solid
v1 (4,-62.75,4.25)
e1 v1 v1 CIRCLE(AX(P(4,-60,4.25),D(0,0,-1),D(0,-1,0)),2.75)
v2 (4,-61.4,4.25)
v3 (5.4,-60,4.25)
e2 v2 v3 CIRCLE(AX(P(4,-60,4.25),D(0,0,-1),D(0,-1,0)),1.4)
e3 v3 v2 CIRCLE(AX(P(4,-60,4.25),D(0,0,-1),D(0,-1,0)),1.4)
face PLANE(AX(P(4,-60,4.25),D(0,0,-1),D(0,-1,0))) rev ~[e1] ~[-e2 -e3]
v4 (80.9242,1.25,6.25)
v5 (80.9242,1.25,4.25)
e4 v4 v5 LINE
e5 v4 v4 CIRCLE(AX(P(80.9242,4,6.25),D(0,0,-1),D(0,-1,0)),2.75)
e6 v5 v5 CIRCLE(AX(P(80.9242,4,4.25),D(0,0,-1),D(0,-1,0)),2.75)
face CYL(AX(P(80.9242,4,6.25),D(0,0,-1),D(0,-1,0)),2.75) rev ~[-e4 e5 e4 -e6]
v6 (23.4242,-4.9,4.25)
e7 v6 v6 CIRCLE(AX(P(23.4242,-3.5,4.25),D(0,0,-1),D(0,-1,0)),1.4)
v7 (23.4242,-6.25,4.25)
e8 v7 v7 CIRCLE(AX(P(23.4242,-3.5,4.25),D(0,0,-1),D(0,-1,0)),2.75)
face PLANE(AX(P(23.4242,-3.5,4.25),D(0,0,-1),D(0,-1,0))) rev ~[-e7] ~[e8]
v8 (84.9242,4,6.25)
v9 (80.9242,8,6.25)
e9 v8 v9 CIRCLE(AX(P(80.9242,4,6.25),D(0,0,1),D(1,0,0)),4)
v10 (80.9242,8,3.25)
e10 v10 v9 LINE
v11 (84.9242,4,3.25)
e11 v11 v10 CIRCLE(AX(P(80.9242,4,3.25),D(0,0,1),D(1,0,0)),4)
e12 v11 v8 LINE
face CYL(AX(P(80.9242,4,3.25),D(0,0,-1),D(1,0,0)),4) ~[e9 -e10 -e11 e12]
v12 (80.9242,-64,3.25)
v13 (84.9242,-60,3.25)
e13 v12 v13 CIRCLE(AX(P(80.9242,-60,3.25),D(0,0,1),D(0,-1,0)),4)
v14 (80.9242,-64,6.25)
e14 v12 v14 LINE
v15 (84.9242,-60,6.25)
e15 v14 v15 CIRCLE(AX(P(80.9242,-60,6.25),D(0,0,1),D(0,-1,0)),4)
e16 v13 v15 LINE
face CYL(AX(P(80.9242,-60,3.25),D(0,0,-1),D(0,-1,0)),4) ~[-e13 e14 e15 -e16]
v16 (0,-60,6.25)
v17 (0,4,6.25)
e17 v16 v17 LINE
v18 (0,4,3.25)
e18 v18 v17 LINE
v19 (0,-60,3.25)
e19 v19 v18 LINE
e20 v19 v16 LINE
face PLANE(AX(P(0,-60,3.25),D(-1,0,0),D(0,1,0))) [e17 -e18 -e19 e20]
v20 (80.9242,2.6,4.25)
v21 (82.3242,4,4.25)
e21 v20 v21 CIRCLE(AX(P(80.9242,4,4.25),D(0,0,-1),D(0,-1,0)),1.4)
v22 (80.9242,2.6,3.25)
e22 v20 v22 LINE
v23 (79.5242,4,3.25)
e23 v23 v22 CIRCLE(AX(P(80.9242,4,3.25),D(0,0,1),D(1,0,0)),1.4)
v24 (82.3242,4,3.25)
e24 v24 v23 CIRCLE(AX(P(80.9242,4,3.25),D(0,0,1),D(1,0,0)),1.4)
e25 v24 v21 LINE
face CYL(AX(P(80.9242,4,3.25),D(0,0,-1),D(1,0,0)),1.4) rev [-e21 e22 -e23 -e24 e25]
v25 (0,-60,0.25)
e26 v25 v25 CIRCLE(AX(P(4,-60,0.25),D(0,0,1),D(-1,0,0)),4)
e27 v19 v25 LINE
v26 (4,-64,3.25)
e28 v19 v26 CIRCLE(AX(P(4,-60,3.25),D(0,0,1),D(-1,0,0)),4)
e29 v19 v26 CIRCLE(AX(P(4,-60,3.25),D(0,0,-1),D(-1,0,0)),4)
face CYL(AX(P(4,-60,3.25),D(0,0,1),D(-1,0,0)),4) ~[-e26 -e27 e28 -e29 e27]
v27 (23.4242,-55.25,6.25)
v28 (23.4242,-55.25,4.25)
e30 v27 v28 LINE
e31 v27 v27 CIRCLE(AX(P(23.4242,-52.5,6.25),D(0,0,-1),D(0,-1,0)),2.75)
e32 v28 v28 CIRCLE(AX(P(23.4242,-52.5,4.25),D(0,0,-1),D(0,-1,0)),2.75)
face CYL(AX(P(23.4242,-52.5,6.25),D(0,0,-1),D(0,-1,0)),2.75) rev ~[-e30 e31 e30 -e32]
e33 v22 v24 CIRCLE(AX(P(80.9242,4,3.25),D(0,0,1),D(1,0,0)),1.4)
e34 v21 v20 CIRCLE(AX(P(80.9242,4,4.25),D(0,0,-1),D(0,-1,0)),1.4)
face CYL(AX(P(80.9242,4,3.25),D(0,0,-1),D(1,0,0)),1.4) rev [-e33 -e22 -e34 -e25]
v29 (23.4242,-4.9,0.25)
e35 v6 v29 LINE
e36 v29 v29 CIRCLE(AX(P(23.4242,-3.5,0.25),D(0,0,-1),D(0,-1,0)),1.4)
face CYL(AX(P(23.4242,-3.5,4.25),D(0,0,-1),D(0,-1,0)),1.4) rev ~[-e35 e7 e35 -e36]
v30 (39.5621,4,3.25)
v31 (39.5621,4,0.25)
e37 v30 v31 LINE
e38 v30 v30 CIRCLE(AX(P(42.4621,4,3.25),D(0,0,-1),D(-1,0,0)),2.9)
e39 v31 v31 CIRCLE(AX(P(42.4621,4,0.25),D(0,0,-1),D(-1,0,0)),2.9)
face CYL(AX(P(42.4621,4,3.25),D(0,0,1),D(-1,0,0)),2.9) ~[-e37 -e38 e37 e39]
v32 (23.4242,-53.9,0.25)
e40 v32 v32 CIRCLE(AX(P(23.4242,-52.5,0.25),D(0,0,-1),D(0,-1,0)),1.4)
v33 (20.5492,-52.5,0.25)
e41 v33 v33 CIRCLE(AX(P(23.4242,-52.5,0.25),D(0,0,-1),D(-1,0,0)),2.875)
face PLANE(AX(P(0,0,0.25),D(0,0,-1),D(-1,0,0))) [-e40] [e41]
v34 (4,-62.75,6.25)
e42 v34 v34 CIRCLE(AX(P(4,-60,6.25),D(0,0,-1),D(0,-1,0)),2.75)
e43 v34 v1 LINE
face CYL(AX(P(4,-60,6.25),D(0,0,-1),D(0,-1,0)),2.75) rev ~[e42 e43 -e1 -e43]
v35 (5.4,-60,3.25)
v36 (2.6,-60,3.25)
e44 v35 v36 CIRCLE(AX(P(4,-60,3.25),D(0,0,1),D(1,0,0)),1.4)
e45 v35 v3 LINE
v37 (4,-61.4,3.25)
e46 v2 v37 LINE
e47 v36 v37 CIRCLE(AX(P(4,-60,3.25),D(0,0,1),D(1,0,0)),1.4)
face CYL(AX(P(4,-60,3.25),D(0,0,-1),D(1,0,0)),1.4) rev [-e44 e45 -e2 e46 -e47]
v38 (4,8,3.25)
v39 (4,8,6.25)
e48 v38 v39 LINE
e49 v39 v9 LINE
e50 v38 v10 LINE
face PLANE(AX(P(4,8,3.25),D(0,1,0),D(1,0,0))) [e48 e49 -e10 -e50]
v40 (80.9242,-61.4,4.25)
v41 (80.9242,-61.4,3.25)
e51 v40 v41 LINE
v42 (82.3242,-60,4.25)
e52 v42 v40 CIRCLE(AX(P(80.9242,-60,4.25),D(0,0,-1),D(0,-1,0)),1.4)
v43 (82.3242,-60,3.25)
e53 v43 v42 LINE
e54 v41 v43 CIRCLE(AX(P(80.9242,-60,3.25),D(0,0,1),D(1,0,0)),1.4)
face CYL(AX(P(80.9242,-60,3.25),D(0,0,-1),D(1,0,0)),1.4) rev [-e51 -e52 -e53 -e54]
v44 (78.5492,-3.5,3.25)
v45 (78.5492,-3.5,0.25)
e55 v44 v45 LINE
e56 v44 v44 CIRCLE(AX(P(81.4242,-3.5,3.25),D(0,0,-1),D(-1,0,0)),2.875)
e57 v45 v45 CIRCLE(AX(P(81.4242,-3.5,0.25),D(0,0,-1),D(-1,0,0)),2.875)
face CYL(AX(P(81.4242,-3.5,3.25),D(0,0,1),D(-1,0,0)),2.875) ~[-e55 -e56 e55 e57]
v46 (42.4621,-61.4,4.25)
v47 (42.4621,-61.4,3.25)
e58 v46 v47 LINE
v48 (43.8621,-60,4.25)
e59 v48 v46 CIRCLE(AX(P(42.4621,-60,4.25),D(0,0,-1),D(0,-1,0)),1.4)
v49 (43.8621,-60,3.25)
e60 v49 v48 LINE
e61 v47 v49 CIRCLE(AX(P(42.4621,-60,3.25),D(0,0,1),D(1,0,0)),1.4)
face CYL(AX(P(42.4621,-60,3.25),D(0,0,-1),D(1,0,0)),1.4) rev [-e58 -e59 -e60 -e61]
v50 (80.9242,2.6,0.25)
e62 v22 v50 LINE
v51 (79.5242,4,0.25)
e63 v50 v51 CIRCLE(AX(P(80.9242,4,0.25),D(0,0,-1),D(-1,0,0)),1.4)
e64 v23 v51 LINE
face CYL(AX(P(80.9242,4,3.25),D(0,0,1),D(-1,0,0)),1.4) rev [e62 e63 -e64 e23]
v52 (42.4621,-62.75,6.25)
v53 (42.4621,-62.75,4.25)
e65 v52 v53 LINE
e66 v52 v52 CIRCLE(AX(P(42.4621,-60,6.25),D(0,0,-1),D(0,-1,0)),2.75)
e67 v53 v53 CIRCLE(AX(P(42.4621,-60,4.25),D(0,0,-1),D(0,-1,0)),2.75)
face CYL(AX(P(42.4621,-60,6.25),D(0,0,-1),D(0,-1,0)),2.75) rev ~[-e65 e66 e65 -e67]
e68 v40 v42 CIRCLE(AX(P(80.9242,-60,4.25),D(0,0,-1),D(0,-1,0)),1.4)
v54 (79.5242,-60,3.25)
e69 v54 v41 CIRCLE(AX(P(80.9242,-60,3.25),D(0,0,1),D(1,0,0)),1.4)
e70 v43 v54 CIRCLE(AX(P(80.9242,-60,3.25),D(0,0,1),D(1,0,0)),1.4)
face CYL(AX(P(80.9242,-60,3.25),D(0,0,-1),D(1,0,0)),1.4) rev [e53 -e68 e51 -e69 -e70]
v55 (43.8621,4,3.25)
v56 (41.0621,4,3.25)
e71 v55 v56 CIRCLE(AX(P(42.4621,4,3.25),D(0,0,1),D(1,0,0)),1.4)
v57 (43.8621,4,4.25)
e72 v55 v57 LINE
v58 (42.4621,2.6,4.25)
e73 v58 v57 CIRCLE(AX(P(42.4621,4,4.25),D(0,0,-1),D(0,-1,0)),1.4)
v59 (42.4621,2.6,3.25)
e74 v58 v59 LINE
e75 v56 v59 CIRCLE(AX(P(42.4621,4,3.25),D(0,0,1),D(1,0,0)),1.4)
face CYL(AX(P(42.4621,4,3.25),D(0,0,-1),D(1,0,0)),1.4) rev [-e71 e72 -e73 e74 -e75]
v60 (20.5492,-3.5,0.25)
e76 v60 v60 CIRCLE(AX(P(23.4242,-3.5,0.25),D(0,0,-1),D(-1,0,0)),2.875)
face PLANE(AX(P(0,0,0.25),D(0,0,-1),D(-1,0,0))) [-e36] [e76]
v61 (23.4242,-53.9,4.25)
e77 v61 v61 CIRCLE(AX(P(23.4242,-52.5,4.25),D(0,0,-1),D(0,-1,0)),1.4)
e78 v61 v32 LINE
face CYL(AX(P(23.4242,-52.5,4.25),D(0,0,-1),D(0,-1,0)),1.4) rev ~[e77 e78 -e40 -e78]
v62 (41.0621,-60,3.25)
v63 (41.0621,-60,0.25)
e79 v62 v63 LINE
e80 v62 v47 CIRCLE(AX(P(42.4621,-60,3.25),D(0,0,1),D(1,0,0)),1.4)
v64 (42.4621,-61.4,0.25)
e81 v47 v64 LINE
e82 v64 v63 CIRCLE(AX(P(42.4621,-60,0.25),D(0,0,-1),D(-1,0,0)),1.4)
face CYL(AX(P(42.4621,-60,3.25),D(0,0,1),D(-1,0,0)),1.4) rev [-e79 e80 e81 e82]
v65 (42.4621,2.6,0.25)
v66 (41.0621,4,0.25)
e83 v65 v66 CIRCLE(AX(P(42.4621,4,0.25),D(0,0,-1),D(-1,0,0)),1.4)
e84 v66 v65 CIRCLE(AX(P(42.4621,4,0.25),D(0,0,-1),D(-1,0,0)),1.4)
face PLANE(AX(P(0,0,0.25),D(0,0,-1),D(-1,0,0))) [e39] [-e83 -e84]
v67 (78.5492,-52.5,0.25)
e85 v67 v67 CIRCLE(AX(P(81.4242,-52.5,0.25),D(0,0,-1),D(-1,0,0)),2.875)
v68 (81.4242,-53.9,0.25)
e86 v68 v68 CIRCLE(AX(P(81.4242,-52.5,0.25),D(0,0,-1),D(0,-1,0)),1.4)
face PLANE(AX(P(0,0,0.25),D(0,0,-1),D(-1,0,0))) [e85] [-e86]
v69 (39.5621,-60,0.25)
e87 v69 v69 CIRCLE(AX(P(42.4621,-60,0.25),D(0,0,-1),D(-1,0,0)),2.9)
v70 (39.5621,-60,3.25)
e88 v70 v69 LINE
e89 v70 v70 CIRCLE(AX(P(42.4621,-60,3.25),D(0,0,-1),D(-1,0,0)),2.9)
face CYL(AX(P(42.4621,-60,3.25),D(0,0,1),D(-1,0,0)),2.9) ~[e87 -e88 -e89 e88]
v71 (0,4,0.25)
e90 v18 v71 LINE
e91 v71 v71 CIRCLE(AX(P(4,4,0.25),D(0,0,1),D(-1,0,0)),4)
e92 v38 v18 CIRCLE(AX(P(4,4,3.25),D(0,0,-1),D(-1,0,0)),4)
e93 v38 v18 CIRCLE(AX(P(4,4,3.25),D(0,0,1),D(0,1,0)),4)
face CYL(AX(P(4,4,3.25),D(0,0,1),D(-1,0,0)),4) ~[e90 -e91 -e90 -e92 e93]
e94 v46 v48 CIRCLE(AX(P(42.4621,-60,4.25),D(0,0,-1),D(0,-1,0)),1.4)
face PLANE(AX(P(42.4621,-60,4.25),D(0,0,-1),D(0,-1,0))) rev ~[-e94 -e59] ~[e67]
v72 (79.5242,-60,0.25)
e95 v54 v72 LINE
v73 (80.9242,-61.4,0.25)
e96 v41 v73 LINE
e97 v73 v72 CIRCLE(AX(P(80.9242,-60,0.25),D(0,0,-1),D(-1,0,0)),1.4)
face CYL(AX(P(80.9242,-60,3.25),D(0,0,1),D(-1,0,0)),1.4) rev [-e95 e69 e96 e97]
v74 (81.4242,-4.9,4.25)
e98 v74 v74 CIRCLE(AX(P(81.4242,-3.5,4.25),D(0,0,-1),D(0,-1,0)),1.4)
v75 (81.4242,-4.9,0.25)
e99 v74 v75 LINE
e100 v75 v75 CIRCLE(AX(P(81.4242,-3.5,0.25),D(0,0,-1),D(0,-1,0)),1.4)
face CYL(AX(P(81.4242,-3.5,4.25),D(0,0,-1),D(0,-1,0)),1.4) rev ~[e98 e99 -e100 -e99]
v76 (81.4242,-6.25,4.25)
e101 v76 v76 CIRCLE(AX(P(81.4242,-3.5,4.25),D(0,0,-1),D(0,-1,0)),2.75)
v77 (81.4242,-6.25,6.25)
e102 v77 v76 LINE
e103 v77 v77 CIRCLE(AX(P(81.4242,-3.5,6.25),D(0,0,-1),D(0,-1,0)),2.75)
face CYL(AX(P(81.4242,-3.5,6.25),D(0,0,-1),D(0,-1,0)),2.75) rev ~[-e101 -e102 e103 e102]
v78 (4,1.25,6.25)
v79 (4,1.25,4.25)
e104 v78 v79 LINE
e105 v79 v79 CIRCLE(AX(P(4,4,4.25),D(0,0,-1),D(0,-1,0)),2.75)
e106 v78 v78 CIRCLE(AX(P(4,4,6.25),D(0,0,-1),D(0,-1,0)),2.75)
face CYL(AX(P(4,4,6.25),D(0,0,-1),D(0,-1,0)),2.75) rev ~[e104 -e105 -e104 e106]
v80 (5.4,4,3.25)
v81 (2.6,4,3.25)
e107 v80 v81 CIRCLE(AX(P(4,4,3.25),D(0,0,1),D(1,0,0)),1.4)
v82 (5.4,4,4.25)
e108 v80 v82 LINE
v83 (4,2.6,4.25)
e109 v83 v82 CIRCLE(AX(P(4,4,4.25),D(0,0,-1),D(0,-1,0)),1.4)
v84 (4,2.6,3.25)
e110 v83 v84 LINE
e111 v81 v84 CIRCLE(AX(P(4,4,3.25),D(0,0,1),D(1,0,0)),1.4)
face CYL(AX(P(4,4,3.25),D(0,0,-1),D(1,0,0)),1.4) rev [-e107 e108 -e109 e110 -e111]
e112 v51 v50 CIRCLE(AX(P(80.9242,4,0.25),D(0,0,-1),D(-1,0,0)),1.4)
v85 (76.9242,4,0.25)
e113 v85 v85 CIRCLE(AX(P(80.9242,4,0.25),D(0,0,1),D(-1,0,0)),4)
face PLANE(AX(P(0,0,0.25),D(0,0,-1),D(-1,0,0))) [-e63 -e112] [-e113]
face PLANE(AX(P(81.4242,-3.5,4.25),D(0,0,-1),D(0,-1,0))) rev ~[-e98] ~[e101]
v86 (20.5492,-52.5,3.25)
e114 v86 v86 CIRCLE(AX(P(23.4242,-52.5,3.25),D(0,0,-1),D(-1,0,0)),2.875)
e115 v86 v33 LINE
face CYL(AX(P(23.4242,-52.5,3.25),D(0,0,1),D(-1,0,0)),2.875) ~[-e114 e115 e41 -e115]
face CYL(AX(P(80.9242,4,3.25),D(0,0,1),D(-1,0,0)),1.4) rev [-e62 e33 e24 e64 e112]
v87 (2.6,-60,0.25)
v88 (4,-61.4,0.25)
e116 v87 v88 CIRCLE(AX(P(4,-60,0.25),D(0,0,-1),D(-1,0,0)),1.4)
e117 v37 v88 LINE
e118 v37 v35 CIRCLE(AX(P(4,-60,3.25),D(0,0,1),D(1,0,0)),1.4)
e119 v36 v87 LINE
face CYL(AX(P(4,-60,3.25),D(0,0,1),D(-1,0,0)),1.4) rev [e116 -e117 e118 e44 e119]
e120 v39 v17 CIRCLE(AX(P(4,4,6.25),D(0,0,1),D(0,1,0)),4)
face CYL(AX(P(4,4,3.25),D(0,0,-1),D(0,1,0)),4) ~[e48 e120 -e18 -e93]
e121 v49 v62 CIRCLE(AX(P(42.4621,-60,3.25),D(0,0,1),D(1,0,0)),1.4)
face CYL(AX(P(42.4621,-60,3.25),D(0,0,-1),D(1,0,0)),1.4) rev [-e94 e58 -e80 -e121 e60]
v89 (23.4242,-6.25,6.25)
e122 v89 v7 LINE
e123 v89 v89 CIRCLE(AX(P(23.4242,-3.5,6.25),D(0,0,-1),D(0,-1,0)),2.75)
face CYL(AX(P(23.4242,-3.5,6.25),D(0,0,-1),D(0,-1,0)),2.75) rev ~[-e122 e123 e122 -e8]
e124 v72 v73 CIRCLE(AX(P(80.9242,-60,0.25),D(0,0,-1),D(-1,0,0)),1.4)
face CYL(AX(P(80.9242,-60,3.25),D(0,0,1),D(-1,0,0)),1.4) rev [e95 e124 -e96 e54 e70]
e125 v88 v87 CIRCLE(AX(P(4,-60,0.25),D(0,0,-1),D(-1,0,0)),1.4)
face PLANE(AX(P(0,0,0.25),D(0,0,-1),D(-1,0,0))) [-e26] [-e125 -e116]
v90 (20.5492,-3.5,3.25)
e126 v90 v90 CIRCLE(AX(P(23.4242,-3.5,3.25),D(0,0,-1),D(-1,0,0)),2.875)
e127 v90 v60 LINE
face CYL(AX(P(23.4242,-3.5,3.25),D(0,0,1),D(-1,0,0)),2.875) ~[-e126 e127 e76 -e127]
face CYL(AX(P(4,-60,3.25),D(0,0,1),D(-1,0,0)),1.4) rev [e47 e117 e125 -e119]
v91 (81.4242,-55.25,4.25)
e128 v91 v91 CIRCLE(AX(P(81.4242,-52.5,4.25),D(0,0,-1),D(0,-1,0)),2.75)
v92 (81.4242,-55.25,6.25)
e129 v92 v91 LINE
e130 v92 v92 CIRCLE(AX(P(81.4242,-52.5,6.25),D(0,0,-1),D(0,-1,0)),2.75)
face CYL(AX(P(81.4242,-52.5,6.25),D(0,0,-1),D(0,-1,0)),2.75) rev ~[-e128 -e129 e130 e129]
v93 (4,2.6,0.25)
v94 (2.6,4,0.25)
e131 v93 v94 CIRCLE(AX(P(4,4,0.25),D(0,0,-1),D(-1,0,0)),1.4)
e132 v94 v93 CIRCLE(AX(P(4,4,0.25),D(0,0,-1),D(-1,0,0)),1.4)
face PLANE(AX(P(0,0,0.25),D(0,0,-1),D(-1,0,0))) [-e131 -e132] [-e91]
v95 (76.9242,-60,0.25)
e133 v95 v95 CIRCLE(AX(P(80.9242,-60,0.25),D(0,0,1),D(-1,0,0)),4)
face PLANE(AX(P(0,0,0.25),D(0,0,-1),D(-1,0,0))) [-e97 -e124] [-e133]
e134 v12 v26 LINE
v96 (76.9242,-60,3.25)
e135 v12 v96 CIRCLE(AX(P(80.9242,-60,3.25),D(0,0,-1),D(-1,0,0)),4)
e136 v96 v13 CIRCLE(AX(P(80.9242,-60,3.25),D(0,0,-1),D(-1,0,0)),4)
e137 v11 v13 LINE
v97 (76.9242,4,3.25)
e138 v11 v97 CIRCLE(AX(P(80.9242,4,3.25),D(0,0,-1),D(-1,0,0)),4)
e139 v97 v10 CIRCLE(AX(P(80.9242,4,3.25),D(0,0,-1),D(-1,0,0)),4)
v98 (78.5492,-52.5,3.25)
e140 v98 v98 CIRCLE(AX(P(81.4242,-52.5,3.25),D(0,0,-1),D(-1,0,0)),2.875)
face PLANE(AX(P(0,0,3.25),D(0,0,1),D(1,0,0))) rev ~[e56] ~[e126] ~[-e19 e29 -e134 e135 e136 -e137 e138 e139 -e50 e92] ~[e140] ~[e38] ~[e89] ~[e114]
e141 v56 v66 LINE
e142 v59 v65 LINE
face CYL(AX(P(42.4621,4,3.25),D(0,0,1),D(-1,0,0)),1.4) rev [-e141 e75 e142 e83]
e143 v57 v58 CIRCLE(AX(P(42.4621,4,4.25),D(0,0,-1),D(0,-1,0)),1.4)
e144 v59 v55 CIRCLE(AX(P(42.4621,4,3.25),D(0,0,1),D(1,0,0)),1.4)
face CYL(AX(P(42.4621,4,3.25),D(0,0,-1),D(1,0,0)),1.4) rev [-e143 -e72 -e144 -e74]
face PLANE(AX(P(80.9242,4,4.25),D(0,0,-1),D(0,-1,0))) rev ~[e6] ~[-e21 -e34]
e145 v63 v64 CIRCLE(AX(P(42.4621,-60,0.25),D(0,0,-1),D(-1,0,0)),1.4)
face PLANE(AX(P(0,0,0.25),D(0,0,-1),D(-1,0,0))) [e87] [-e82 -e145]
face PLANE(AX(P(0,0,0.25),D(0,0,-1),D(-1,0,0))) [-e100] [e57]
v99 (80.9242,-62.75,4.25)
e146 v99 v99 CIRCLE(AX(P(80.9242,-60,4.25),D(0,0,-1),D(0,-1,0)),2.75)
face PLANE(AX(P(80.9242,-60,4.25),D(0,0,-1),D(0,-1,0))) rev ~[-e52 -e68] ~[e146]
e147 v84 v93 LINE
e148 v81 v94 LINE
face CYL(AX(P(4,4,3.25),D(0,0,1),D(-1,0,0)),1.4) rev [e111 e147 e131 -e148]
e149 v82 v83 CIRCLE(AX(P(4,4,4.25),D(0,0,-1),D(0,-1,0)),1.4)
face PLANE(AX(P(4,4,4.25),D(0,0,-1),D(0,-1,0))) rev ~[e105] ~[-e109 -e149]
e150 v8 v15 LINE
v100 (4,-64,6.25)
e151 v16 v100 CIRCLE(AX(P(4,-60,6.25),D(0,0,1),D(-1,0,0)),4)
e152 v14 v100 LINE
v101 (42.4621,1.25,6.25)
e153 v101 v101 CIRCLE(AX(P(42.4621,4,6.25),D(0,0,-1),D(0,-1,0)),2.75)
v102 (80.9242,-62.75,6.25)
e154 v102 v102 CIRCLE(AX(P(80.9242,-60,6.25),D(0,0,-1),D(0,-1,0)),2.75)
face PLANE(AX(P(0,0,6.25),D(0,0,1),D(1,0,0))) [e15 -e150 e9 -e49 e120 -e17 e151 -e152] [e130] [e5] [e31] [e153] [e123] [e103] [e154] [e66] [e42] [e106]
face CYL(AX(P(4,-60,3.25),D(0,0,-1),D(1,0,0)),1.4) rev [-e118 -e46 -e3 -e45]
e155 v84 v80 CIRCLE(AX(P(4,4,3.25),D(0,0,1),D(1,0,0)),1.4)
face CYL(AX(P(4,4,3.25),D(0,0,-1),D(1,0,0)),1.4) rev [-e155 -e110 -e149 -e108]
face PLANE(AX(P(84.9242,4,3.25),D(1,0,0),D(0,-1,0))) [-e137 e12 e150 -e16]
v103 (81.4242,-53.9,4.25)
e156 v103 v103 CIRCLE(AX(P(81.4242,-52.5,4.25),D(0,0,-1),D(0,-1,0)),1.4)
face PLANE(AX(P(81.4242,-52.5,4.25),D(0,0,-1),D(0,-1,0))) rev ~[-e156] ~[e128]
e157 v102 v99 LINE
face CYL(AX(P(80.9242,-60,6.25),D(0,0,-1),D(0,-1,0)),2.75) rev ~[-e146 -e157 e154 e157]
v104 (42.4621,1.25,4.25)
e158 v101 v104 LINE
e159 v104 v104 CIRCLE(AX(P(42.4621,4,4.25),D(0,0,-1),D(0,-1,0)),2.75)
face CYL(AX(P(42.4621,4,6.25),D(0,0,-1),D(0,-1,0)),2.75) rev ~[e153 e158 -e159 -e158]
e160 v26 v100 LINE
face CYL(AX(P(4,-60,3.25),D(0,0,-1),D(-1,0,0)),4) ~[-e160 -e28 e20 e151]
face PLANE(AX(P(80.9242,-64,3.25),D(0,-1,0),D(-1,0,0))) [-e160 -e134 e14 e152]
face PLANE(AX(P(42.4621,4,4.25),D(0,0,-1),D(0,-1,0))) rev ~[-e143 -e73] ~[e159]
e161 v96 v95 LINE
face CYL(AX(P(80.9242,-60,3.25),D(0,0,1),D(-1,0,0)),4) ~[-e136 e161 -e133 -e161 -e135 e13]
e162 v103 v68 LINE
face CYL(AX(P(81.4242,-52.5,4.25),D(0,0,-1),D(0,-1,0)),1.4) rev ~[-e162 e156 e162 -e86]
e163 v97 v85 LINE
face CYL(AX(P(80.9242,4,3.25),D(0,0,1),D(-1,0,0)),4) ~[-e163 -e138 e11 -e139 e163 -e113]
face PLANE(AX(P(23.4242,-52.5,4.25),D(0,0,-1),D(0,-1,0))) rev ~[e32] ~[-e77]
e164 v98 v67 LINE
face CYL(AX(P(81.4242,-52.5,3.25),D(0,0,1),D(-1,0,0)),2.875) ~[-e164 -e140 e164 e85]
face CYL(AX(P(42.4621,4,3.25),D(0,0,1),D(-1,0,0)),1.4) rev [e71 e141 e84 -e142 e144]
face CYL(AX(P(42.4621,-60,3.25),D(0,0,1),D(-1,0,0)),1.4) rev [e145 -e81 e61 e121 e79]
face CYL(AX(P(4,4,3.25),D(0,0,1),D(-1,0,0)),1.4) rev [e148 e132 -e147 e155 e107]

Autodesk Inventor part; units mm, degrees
ref_plane "YZ Plane" through (0, 0, 0) normal (1, 0, 0) x (0, 1, 0)
ref_plane "XZ Plane" through (0, 0, 0) normal (0, 1, 0) x (-1, 0, 0)
ref_plane "XY Plane" through (0, 0, 0) normal (0, 0, 1) x (1, 0, 0)
ref_plane "Work Plane1" through (0, 0, 3.25) normal (0, 0, 1) x (1, 0, 0)
sketch "Sketch1" plane through (0, 0, 3.25) normal (0, 0, 1) x (1, 0, 0)
  arc A0 (3, 0) -> (0, -3) centre (3, -3) ccw construction
  arc A1 (81.9242, -56) -> (84.9242, -53) centre (81.9242, -53) ccw construction
  arc A2 (84.9242, -3) -> (81.9242, 0) centre (81.9242, -3) ccw construction
  arc A3 (0, -53) -> (3, -56) centre (3, -53) ccw construction
  line L0 (0, 0) -> (86.0371, 0) construction
  line L1 (86.0371, 0) -> (86.0371, -52.7339) construction
  line L2 (86.0371, -52.7339) -> (0, -52.7339) construction
  line L3 (0, -52.7339) -> (0, 0) construction
  line L4 (80.9242, -64) -> (4, -64)
  line L5 (0, -60) -> (0, 4)
  line L6 (4, 8) -> (80.9242, 8)
  line L7 (84.9242, 4) -> (84.9242, -60)
  circle A4 centre (23.4242, -3.5) radius 1.375 projected
  circle A5 centre (23.4242, -52.5) radius 1.375 projected
  circle A6 centre (81.4242, -52.5) radius 1.375 projected
  circle A7 centre (81.4242, -3.5) radius 1.375 projected
  arc A8 (4, 8) -> (0, 4) centre (4, 4) ccw
  arc A9 (0, -60) -> (4, -64) centre (4, -60) ccw
  arc A10 (80.9242, -64) -> (84.9242, -60) centre (80.9242, -60) ccw
  arc A11 (84.9242, 4) -> (80.9242, 8) centre (80.9242, 4) ccw
  circle A12 centre (42.4621, 4) radius 1.4
  circle A13 centre (4, 4) radius 1.4
  circle A14 centre (4, -60) radius 1.4
  circle A15 centre (42.4621, -60) radius 1.4
  circle A16 centre (80.9242, -60) radius 1.4
  circle A17 centre (80.9242, 4) radius 1.4
  point P0 (84.9242, -64)
  point P1 (0, 8)
  point P2 (0, -64)
  point P3 (84.9242, 8)
  dimension "d0" = 8
  dimension "d2" = 0
  dimension "d5" = 4
  dimension "d12" = 8
  dimension "d13" = 2.8
  dimension "d14" = 2.8
  dimension "d15" = 2.8
  dimension "d16" = 2.8
  dimension "d17" = 2.8
  dimension "d18" = 2.8
extrude "Extrusion1" add sketch "Sketch1" along normal blind 3
sketch "Sketch2" plane through (0, 0, 3.25) normal (0, 0, -1) x (-1, 0, 0)
  circle A0 centre (-23.4242, -3.5) radius 1.375 projected
  circle A1 centre (-23.4242, -52.5) radius 1.375 projected
  arc A2 (-3, -56) -> (0, -53) centre (-3, -53) ccw projected
  line L0 (0, -3) -> (0, -53) projected
  arc A3 (0, -3) -> (-3, 0) centre (-3, -3) ccw projected
  line L1 (-81.9242, 0) -> (-3, 0) projected
  arc A4 (-81.9242, 0) -> (-84.9242, -3) centre (-81.9242, -3) ccw projected
  line L2 (-84.9242, -53) -> (-84.9242, -3) projected
  arc A5 (-84.9242, -53) -> (-81.9242, -56) centre (-81.9242, -53) ccw projected
  line L3 (-3, -56) -> (-81.9242, -56) projected
  circle A6 centre (-22.213, -8.2226) radius 0.5 projected
  circle A7 centre (-24.7543, -8.2226) radius 0.5 projected
  circle A8 centre (-67.0848, -6.0884) radius 0.2 projected
  circle A9 centre (-48.353, -16.7207) radius 0.2 projected
  circle A10 centre (-47.3865, -17.6798) radius 0.2 projected
  circle A11 centre (-45.8783, -17.6652) radius 0.2 projected
  circle A12 centre (-44.8533, -17.6652) radius 0.2 projected
  circle A13 centre (-46.2005, -16.2668) radius 0.2 projected
  circle A14 centre (-45.5781, -16.2009) radius 0.2 projected
  circle A15 centre (-44.9045, -16.1936) radius 0.2 projected
  circle A16 centre (-44.2822, -16.3107) radius 0.2 projected
  circle A17 centre (-43.9225, -35.8663) radius 0.2 projected
  circle A18 centre (-43.7816, -34.9329) radius 0.2 projected
  circle A19 centre (-44.7326, -34.6159) radius 0.2 projected
  circle A20 centre (-46.2119, -33.2071) radius 0.2 projected
  circle A21 centre (-43.4822, -31.4107) radius 0.2 projected
  circle A22 centre (-38.8402, -21.8362) radius 0.2 projected
  circle A23 centre (-38.8242, -20.7804) radius 0.2 projected
  circle A24 centre (-36.9127, -18.1491) radius 0.2 projected
  circle A25 centre (-37.5765, -17.9571) radius 0.2 projected
  circle A26 centre (-37.0167, -19.0928) radius 0.2 projected
  circle A27 centre (-38.1204, -19.9646) radius 0.2 projected
  line L4 (-38.4822, -15.9107) -> (-37.8289, -15.9107) projected
  line L5 (-37.8289, -16.3532) -> (-37.8289, -15.9107) projected
  line L6 (-37.8289, -16.3532) -> (-38.4822, -16.3532) projected
  line L7 (-38.4822, -15.9107) -> (-38.4822, -16.3532) projected
  line L8 (-38.5091, -16.758) -> (-37.8127, -16.758) projected
  line L9 (-37.8127, -17.341) -> (-37.8127, -16.758) projected
  line L10 (-37.8127, -17.341) -> (-38.5091, -17.341) projected
  line L11 (-38.5091, -16.758) -> (-38.5091, -17.341) projected
  circle A28 centre (-72.081, -8.9661) radius 0.2 projected
  circle A29 centre (-79.5495, -9.7485) radius 0.2 projected
  circle A30 centre (-79.9051, -8.7527) radius 0.2 projected
  circle A31 centre (-77.6646, -9.4996) radius 0.2 projected
  circle A32 centre (-79.7806, -11.3489) radius 0.2 projected
  circle A33 centre (-79.3894, -12.807) radius 0.2 projected
  circle A34 centre (-79.1761, -13.5361) radius 0.2 projected
  circle A35 centre (-70.8491, -11.3341) radius 0.2 projected
  circle A36 centre (-70.7681, -10.4839) radius 0.2 projected
  circle A37 centre (-71.8713, -11.4758) radius 0.2 projected
  circle A38 centre (-47.3628, -8.6438) radius 0.2 projected
  circle A39 centre (-67.9301, -8.3536) radius 0.2 projected
  circle A40 centre (-68.8541, -7.4295) radius 0.2 projected
  circle A41 centre (-64.6394, -6.3589) radius 0.2 projected
  circle A42 centre (-65.124, -8.6691) radius 0.2 projected
  circle A43 centre (-67.1863, -9.0861) radius 0.2 projected
  circle A44 centre (-66.6003, -9.8073) radius 0.2 projected
  circle A45 centre (-66.7693, -10.5962) radius 0.2 projected
  circle A46 centre (-66.8031, -11.2611) radius 0.2 projected
  circle A47 centre (-65.586, -10.9681) radius 0.2 projected
  circle A48 centre (-62.3629, -10.461) radius 0.2 projected
  circle A49 centre (-62.4756, -12.7825) radius 0.2 projected
  circle A50 centre (-64.7183, -13.8643) radius 0.2 projected
  circle A51 centre (-63.873, -13.8643) radius 0.2 projected
  circle A52 centre (-61.9347, -16.2197) radius 0.2 projected
  circle A53 centre (-59.9625, -15.3068) radius 0.2 projected
  circle A54 centre (-60.7965, -14.1573) radius 0.2 projected
  circle A55 centre (-58.7116, -11.0019) radius 0.2 projected
  circle A56 centre (-56.2098, -8.2183) radius 0.2 projected
  circle A57 centre (-55.1542, -11.3073) radius 0.2 projected
  circle A58 centre (-58.4406, -13.9483) radius 0.2 projected
  circle A59 centre (-57.6689, -13.9483) radius 0.2 projected
  circle A60 centre (-56.7841, -14.2211) radius 0.2 projected
  circle A61 centre (-56.345, -11.3738) radius 0.2 projected
  circle A62 centre (-43.0801, -22.1797) radius 0.2 projected
  circle A63 centre (-45.846, -22.8336) radius 0.2 projected
  circle A64 centre (-45.6957, -23.6153) radius 0.2 projected
  circle A65 centre (-47.4169, -23.2545) radius 0.2 projected
  circle A66 centre (-47.3794, -24.8404) radius 0.2 projected
  circle A67 centre (-47.7852, -23.7957) radius 0.2 projected
  circle A68 centre (-46.0339, -25.0509) radius 0.2 projected
  circle A69 centre (-37.8814, -28.3476) radius 0.2 projected
  circle A70 centre (-38.5166, -28.276) radius 0.2 projected
  circle A71 centre (-39.2056, -28.3208) radius 0.2 projected
  circle A72 centre (-38.123, -26.8266) radius 0.2 projected
  circle A73 centre (-38.9819, -26.8266) radius 0.2 projected
  circle A74 centre (-39.134, -25.3146) radius 0.2 projected
  circle A75 centre (-45.0926, -23.6057) radius 0.2 projected
  circle A76 centre (-39.805, -25.3146) radius 0.2 projected
  circle A77 centre (-40.306, -25.8693) radius 0.2 projected
  circle A78 centre (-73.2524, -44.2624) radius 0.2 projected
  circle A79 centre (-75.8766, -48.3708) radius 0.2 projected
  circle A80 centre (-74.335, -47.9589) radius 0.2 projected
  circle A81 centre (-75.6234, -44.5695) radius 0.2 projected
  circle A82 centre (-60.44, -36.6138) radius 0.2 projected
  circle A83 centre (-61.037, -35.3004) radius 0.2 projected
  circle A84 centre (-61.2076, -34.3622) radius 0.2 projected
  circle A85 centre (-64.6361, -37.0573) radius 0.2 projected
  circle A86 centre (-65.3014, -36.0338) radius 0.2 projected
  circle A87 centre (-64.6703, -33.3899) radius 0.2 projected
  circle A88 centre (-63.715, -39.9741) radius 0.2 projected
  circle A89 centre (-65.1479, -39.0018) radius 0.2 projected
  circle A90 centre (-68.8954, -35.575) radius 0.2 projected
  circle A91 centre (-69.402, -34.9183) radius 0.2 projected
  circle A92 centre (-69.8898, -36.0628) radius 0.2 projected
  circle A93 centre (-72.1039, -38.1643) radius 0.2 projected
  circle A94 centre (-71.935, -41.8794) radius 0.2 projected
  circle A95 centre (-72.1227, -34.7119) radius 0.2 projected
  circle A96 centre (-74.0553, -35.256) radius 0.2 projected
  circle A97 centre (-75.0685, -34.9558) radius 0.2 projected
  circle A98 centre (-77.5077, -35.1622) radius 0.2 projected
  circle A99 centre (-68.9517, -32.6104) radius 0.2 projected
  circle A100 centre (-66.6813, -30.8654) radius 0.2 projected
  circle A101 centre (-66.8877, -29.6458) radius 0.2 projected
  circle A102 centre (-44.52, -23.6415) radius 0.2 projected
  circle A103 centre (-45.0568, -24.8404) radius 0.2 projected
  circle A104 centre (-44.4842, -24.8225) radius 0.2 projected
  circle A105 centre (-43.8937, -24.8136) radius 0.2 projected
  circle A106 centre (-42.3638, -26.2988) radius 0.2 projected
  circle A107 centre (-43.7148, -26.2719) radius 0.2 projected
  circle A108 centre (-44.7079, -26.2719) radius 0.2 projected
  circle A109 centre (-44.1979, -26.7193) radius 0.2 projected
  circle A110 centre (-44.7705, -26.8445) radius 0.2 projected
  circle A111 centre (-41.5854, -28.2402) radius 0.2 projected
  circle A112 centre (-42.9543, -28.2134) radius 0.2 projected
  circle A113 centre (-44.2695, -28.3118) radius 0.2 projected
  circle A114 centre (-44.9763, -28.4192) radius 0.2 projected
  circle A115 centre (-45.3968, -26.6656) radius 0.2 projected
  circle A116 centre (-46.0142, -26.7551) radius 0.2 projected
  circle A117 centre (-47.6514, -26.3882) radius 0.2 projected
  circle A118 centre (-48.8593, -27.5961) radius 0.2 projected
  circle A119 centre (-55.7434, -31.6719) radius 0.2 projected
  circle A120 centre (-57.2346, -31.7216) radius 0.2 projected
  circle A121 centre (-56.4393, -32.9394) radius 0.2 projected
  circle A122 centre (-70.5072, -27.1836) radius 0.2 projected
  circle A123 centre (-82.0135, -8.0436) radius 0.2 projected
  circle A124 centre (-77.8638, -7.5634) radius 0.2 projected
  circle A125 centre (-77.3837, -6.7061) radius 0.2 projected
  circle A126 centre (-69.7875, -6.2774) radius 0.2 projected
  circle A127 centre (-70.8849, -6.6203) radius 0.2 projected
  circle A128 centre (-70.2762, -8.4294) radius 0.2 projected
  circle A129 centre (-72.6339, -6.5603) radius 0.2 projected
  circle A130 centre (-77.2174, -15.0208) radius 0.2 projected
  circle A131 centre (-74.5254, -13.0345) radius 0.2 projected
  circle A132 centre (-74.7215, -13.6095) radius 0.2 projected
  circle A133 centre (-74.2641, -14.1061) radius 0.2 projected
  circle A134 centre (-74.826, -14.6941) radius 0.2 projected
  circle A135 centre (-71.0103, -13.8709) radius 0.2 projected
  circle A136 centre (-70.9057, -14.6027) radius 0.2 projected
  circle A137 centre (-72.8789, -14.7856) radius 0.2 projected
  circle A138 centre (-72.2909, -15.1646) radius 0.2 projected
  circle A139 centre (-76.4202, -23.4755) radius 0.2 projected
  circle A140 centre (-76.6424, -22.9136) radius 0.2 projected
  circle A141 centre (-72.1341, -21.5546) radius 0.2 projected
  circle A142 centre (-71.337, -21.5938) radius 0.2 projected
  circle A143 centre (-75.414, -19.4507) radius 0.2 projected
  circle A144 centre (-77.335, -18.9933) radius 0.2 projected
  circle A145 centre (-73.0619, -16.7196) radius 0.2 projected
  circle A146 centre (-72.1733, -16.1838) radius 0.2 projected
  circle A147 centre (-70.7751, -16.1316) radius 0.2 projected
  circle A148 centre (-70.7881, -17.0724) radius 0.2 projected
  circle A149 centre (-71.7558, -44.5458) radius 0.2 projected
  circle A150 centre (-66.535, -44.9267) radius 0.2 projected
  circle A151 centre (-65.8404, -45.218) radius 0.2 projected
  circle A152 centre (-64.1151, -43.2014) radius 0.2 projected
  circle A153 centre (-67.1848, -42.3948) radius 0.2 projected
  circle A154 centre (-68.2379, -42.4172) radius 0.2 projected
  circle A155 centre (-80.9558, -44.2504) radius 0.2 projected
  circle A156 centre (-80.0692, -44.0164) radius 0.2 projected
  circle A157 centre (-83.899, -39.4107) radius 0.2 projected
  circle A158 centre (-83.9729, -38.6226) radius 0.2 projected
  circle A159 centre (-83.8374, -36.4183) radius 0.2 projected
  circle A160 centre (-78.5914, -39.5092) radius 0.2 projected
  circle A161 centre (-78.5791, -38.1177) radius 0.2 projected
  circle A162 centre (-77.8266, -25.7432) radius 0.2 projected
  circle A163 centre (-77.9087, -28.671) radius 0.2 projected
  circle A164 centre (-77.895, -31.7083) radius 0.2 projected
  circle A165 centre (-74.0916, -28.6573) radius 0.2 projected
  circle A166 centre (-77.6854, -23.1009) radius 0.2 projected
  circle A167 centre (-75.7973, -21.5412) radius 0.2 projected
  circle A168 centre (-70.7489, -18.0525) radius 0.2 projected
  circle A169 centre (-70.8584, -18.9144) radius 0.2 projected
  circle A170 centre (-70.7763, -19.5301) radius 0.2 projected
  circle A171 centre (-66.4667, -19.749) radius 0.2 projected
  circle A172 centre (-65.6666, -20.7133) radius 0.2 projected
  circle A173 centre (-71.5914, -22.7486) radius 0.2 projected
  circle A174 centre (-71.4444, -23.5627) radius 0.2 projected
  circle A175 centre (-72.2443, -23.8456) radius 0.2 projected
  circle A176 centre (-73.4429, -24.8971) radius 0.2 projected
  circle A177 centre (-68.4368, -27.26) radius 0.2 projected
  circle A178 centre (-73.2535, -29.6345) radius 0.2 projected
  circle A179 centre (-73.1065, -28.6847) radius 0.2 projected
  circle A180 centre (-71.125, -25.1459) radius 0.2 projected
  circle A181 centre (-71.1935, -25.8197) radius 0.2 projected
  circle A182 centre (-71.2849, -27.2245) radius 0.2 projected
  circle A183 centre (-71.1706, -29.5087) radius 0.2 projected
  circle A184 centre (-71.2278, -28.6864) radius 0.2 projected
  circle A185 centre (-66.8649, -27.1446) radius 0.2 projected
  circle A186 centre (-66.6593, -28.8235) radius 0.2 projected
  circle A187 centre (-66.5108, -30.2625) radius 0.2 projected
  circle A188 centre (-42.5801, -10.5439) radius 0.2 projected
  circle A189 centre (-41.6928, -10.461) radius 0.2 projected
  circle A190 centre (-40.7805, -10.4527) radius 0.2 projected
  circle A191 centre (-44.6203, -13.488) radius 0.2 projected
  circle A192 centre (-42.0825, -14.4002) radius 0.2 projected
  circle A193 centre (-45.491, -12.3933) radius 0.2 projected
  circle A194 centre (-44.5373, -12.4265) radius 0.2 projected
  circle A195 centre (-43.426, -12.4099) radius 0.2 projected
  circle A196 centre (-0.8218, -17.9959) radius 0.2 projected
  circle A197 centre (-5.3083, -17.8009) radius 0.2 projected
  circle A198 centre (-36.7643, -43.1201) radius 0.2 projected
  circle A199 centre (-19.8744, -38.9768) radius 0.2 projected
  circle A200 centre (-20.6732, -38.164) radius 0.2 projected
  circle A201 centre (-16.553, -31.5352) radius 0.2 projected
  circle A202 centre (-16.6371, -33.7074) radius 0.2 projected
  circle A203 centre (-17.4359, -35.4873) radius 0.2 projected
  circle A204 centre (-20.477, -31.0167) radius 0.2 projected
  circle A205 centre (-21.5701, -33.8896) radius 0.2 projected
  circle A206 centre (-31.4223, -28.9566) radius 0.2 projected
  circle A207 centre (-29.5724, -29.9936) radius 0.2 projected
  circle A208 centre (-28.8156, -27.3589) radius 0.2 projected
  circle A209 centre (-27.8906, -27.401) radius 0.2 projected
  circle A210 centre (-26.3911, -27.5551) radius 0.2 projected
  circle A211 centre (-24.8635, -27.485) radius 0.2 projected
  circle A212 centre (-24.1564, -30.0892) radius 0.2 projected
  circle A213 centre (-23.9144, -29.4776) radius 0.2 projected
  circle A214 centre (-22.8697, -30.1147) radius 0.2 projected
  circle A215 centre (-23.2009, -29.5541) radius 0.2 projected
  circle A216 centre (-23.1499, -27.4901) radius 0.2 projected
  circle A217 centre (-22.3218, -27.4901) radius 0.2 projected
  circle A218 centre (-21.2899, -27.401) radius 0.2 projected
  circle A219 centre (-20.5113, -27.5708) radius 0.2 projected
  circle A220 centre (-19.7893, -23.9044) radius 0.2 projected
  circle A221 centre (-19.761, -21.3705) radius 0.2 projected
  circle A222 centre (-19.4779, -20.7335) radius 0.2 projected
  circle A223 centre (-19.7893, -18.7941) radius 0.2 projected
  circle A224 centre (-19.945, -17.8598) radius 0.2 projected
  circle A225 centre (-21.2757, -16.7698) radius 0.2 projected
  circle A226 centre (-22.3799, -15.5949) radius 0.2 projected
  circle A227 centre (-24.7014, -15.6232) radius 0.2 projected
  circle A228 centre (-29.8825, -15.7648) radius 0.2 projected
  circle A229 centre (-35.6443, -10.4124) radius 0.2 projected
  circle A230 centre (-37.175, -12.1575) radius 0.2 projected
  circle A231 centre (-39.8268, -12.6255) radius 0.2 projected
  circle A232 centre (-37.331, -14.1464) radius 0.2 projected
  circle A233 centre (-37.0872, -14.8191) radius 0.2 projected
  circle A234 centre (-38.3839, -15.2773) radius 0.2 projected
  circle A235 centre (-38.9688, -15.9012) radius 0.2 projected
  circle A236 centre (-40.636, -16.2522) radius 0.2 projected
  circle A237 centre (-41.2794, -16.301) radius 0.2 projected
  circle A238 centre (-39.7721, -19.9788) radius 0.2 projected
  circle A239 centre (-41.478, -19.3199) radius 0.2 projected
  circle A240 centre (-42.2322, -19.9715) radius 0.2 projected
  circle A241 centre (-47.1376, -20.7183) radius 0.2 projected
  circle A242 centre (-44.8753, -21.326) radius 0.2 projected
  circle A243 centre (-45.7392, -20.8208) radius 0.2 projected
  circle A244 centre (-44.824, -20.7549) radius 0.2 projected
  circle A245 centre (-46.0467, -19.8031) radius 0.2 projected
  circle A246 centre (-45.439, -19.6201) radius 0.2 projected
  circle A247 centre (-44.4579, -19.686) radius 0.2 projected
  circle A248 centre (-44.7654, -19.1442) radius 0.2 projected
  circle A249 centre (-44.0479, -19.0417) radius 0.2 projected
  circle A250 centre (-42.364, -18.024) radius 0.2 projected
  circle A251 centre (-44.6117, -18.5511) radius 0.2 projected
  circle A252 centre (-47.3353, -19.254) radius 0.2 projected
  circle A253 centre (-42.3786, -18.844) radius 0.2 projected
  circle A254 centre (-45.8856, -18.4999) radius 0.2 projected
  circle A255 centre (-73.3884, -7.7263) radius 0.2 projected
  circle A256 centre (-73.2512, -8.8838) radius 0.2 projected
  circle A257 centre (-72.7822, -10.7673) radius 0.2 projected
  circle A258 centre (-72.747, -11.7788) radius 0.2 projected
  circle A259 centre (-73.7231, -11.767) radius 0.2 projected
  circle A260 centre (-76.5692, -10.5556) radius 0.2 projected
  circle A261 centre (-76.5339, -11.1437) radius 0.2 projected
  circle A262 centre (-76.7103, -12.1669) radius 0.2 projected
  circle A263 centre (-78.9449, -14.3897) radius 0.2 projected
  circle A264 centre (-72.9965, -18.0002) radius 0.2 projected
  circle A265 centre (-73.271, -19.5945) radius 0.2 projected
  circle A266 centre (-78.1452, -14.1192) radius 0.2 projected
  circle A267 centre (-77.4395, -14.1061) radius 0.2 projected
  circle A268 centre (-78.4065, -15.831) radius 0.2 projected
  circle A269 centre (-78.3673, -16.6412) radius 0.2 projected
  circle A270 centre (-77.8969, -17.4514) radius 0.2 projected
  circle A271 centre (-77.2304, -16.7065) radius 0.2 projected
  circle A272 centre (-76.2112, -15.5174) radius 0.2 projected
  circle A273 centre (-76.5901, -16.4321) radius 0.2 projected
  circle A274 centre (-77.0605, -15.7918) radius 0.2 projected
  circle A275 centre (-55.7793, -42.2185) radius 0.2 projected
  circle A276 centre (-57.5522, -41.3263) radius 0.2 projected
  circle A277 centre (-55.928, -40.3426) radius 0.2 projected
  circle A278 centre (-55.8365, -41.4178) radius 0.2 projected
  circle A279 centre (-55.8822, -43.1107) radius 0.2 projected
  circle A280 centre (-58.7419, -42.127) radius 0.2 projected
  circle A281 centre (-59.3824, -38.5924) radius 0.2 projected
  circle A282 centre (-65.8036, -48.151) radius 0.2 projected
  circle A283 centre (-62.4709, -42.9163) radius 0.2 projected
  circle A284 centre (-62.8822, -51.3107) radius 0.2 projected
  circle A285 centre (-61.8658, -53.7387) radius 0.2 projected
  circle A286 centre (-61.9694, -54.7362) radius 0.2 projected
  circle A287 centre (-64.2185, -54.7268) radius 0.2 projected
  circle A288 centre (-66.016, -54.7927) radius 0.2 projected
  circle A289 centre (-64.3597, -51.1319) radius 0.2 projected
  circle A290 centre (-67.8605, -51.9789) radius 0.2 projected
  circle A291 centre (-64.7644, -49.7768) radius 0.2 projected
  circle A292 centre (-68.698, -51.8189) radius 0.2 projected
  circle A293 centre (-75.1352, -48.7709) radius 0.2 projected
  circle A294 centre (-81.4242, -3.5) radius 1.375 projected
  circle A295 centre (-81.4242, -52.5) radius 1.375 projected
  circle A296 centre (-23.4242, -52.5) radius 1.375 projected
  circle A297 centre (-23.4242, -3.5) radius 1.375 projected
  circle A298 centre (-75.669, -6.1316) radius 0.2 projected
  circle A299 centre (-81.4242, -3.5) radius 2.875
  circle A300 centre (-81.4242, -52.5) radius 2.875
  circle A301 centre (-23.4242, -52.5) radius 2.875
  circle A302 centre (-23.4242, -3.5) radius 2.875
  circle A303 centre (-4, 4) radius 1.4 projected
  circle A304 centre (-42.4621, 4) radius 1.4 projected
  circle A305 centre (-80.9242, 4) radius 1.4 projected
  circle A306 centre (-80.9242, -60) radius 1.4 projected
  circle A307 centre (-42.4621, -60) radius 1.4 projected
  circle A308 centre (-4, -60) radius 1.4 projected
  circle A309 centre (-4, 4) radius 4
  circle A310 centre (-42.4621, 4) radius 2.9
  circle A311 centre (-80.9242, 4) radius 4
  circle A312 centre (-4, -60) radius 4
  circle A313 centre (-42.4621, -60) radius 2.9
  circle A314 centre (-80.9242, -60) radius 4
  point P0 (0, 0)
  point P1 (-84.9242, -60)
  point P2 (-80.9242, 8)
  point P3 (-4, 8)
  point P4 (0, -60)
  dimension "d6" = 1.5
  dimension "d7" = 1.5
  dimension "d8" = 1.5
  dimension "d9" = 1.5
  dimension "d20" = 1.5
  dimension "d23" = 1.5
extrude "Extrusion2" add sketch "Sketch2" along normal blind 3 contours A312 | A314 | A311 | A309 | A299 | A300 | A301 | A302 | A310 | A313
sketch "Sketch4" plane through (0, 0, 6.25) normal (0, 0, 1) x (1, 0, 0)
  circle A0 centre (80.9242, 4) radius 1.4 projected
  circle A1 centre (80.9242, -60) radius 1.4 projected
  circle A2 centre (42.4621, -60) radius 1.4 projected
  circle A3 centre (4, -60) radius 1.4 projected
  circle A4 centre (4, 4) radius 1.4 projected
  circle A5 centre (42.4621, 4) radius 1.4 projected
  circle A6 centre (81.4242, -3.5) radius 1.375 projected
  circle A7 centre (81.4242, -52.5) radius 1.375 projected
  circle A8 centre (23.4242, -52.5) radius 1.375 projected
  circle A9 centre (23.4242, -3.5) radius 1.375 projected
  line L0 (80.9242, 8) -> (4, 8) projected
  arc A10 (4, 8) -> (0, 4) centre (4, 4) ccw projected
  line L1 (0, 4) -> (0, -60) projected
  arc A11 (0, -60) -> (4, -64) centre (4, -60) ccw projected
  line L2 (4, -64) -> (80.9242, -64) projected
  arc A12 (80.9242, -64) -> (84.9242, -60) centre (80.9242, -60) ccw projected
  line L3 (84.9242, -60) -> (84.9242, 4) projected
  arc A13 (84.9242, 4) -> (80.9242, 8) centre (80.9242, 4) ccw projected
  point P0 (0, 0)
hole "Hole1" at (4, 4, 6.25) at (4, -60, 6.25) at (42.4621, -60, 6.25) at (80.9242, -60, 6.25) at (80.9242, 4, 6.25) at (42.4621, 4, 6.25) at (81.4242, -3.5, 6.25) at (23.4242, -3.5, 6.25) at (23.4242, -52.5, 6.25) at (81.4242, -52.5, 6.25) direction (0, 0, -1) diameter 2.8 depth 20 tip angle 118 counterbore diameter 5.5 counterbore depth 2
properties part number "cellSTORM_v5_Electronicbox"
